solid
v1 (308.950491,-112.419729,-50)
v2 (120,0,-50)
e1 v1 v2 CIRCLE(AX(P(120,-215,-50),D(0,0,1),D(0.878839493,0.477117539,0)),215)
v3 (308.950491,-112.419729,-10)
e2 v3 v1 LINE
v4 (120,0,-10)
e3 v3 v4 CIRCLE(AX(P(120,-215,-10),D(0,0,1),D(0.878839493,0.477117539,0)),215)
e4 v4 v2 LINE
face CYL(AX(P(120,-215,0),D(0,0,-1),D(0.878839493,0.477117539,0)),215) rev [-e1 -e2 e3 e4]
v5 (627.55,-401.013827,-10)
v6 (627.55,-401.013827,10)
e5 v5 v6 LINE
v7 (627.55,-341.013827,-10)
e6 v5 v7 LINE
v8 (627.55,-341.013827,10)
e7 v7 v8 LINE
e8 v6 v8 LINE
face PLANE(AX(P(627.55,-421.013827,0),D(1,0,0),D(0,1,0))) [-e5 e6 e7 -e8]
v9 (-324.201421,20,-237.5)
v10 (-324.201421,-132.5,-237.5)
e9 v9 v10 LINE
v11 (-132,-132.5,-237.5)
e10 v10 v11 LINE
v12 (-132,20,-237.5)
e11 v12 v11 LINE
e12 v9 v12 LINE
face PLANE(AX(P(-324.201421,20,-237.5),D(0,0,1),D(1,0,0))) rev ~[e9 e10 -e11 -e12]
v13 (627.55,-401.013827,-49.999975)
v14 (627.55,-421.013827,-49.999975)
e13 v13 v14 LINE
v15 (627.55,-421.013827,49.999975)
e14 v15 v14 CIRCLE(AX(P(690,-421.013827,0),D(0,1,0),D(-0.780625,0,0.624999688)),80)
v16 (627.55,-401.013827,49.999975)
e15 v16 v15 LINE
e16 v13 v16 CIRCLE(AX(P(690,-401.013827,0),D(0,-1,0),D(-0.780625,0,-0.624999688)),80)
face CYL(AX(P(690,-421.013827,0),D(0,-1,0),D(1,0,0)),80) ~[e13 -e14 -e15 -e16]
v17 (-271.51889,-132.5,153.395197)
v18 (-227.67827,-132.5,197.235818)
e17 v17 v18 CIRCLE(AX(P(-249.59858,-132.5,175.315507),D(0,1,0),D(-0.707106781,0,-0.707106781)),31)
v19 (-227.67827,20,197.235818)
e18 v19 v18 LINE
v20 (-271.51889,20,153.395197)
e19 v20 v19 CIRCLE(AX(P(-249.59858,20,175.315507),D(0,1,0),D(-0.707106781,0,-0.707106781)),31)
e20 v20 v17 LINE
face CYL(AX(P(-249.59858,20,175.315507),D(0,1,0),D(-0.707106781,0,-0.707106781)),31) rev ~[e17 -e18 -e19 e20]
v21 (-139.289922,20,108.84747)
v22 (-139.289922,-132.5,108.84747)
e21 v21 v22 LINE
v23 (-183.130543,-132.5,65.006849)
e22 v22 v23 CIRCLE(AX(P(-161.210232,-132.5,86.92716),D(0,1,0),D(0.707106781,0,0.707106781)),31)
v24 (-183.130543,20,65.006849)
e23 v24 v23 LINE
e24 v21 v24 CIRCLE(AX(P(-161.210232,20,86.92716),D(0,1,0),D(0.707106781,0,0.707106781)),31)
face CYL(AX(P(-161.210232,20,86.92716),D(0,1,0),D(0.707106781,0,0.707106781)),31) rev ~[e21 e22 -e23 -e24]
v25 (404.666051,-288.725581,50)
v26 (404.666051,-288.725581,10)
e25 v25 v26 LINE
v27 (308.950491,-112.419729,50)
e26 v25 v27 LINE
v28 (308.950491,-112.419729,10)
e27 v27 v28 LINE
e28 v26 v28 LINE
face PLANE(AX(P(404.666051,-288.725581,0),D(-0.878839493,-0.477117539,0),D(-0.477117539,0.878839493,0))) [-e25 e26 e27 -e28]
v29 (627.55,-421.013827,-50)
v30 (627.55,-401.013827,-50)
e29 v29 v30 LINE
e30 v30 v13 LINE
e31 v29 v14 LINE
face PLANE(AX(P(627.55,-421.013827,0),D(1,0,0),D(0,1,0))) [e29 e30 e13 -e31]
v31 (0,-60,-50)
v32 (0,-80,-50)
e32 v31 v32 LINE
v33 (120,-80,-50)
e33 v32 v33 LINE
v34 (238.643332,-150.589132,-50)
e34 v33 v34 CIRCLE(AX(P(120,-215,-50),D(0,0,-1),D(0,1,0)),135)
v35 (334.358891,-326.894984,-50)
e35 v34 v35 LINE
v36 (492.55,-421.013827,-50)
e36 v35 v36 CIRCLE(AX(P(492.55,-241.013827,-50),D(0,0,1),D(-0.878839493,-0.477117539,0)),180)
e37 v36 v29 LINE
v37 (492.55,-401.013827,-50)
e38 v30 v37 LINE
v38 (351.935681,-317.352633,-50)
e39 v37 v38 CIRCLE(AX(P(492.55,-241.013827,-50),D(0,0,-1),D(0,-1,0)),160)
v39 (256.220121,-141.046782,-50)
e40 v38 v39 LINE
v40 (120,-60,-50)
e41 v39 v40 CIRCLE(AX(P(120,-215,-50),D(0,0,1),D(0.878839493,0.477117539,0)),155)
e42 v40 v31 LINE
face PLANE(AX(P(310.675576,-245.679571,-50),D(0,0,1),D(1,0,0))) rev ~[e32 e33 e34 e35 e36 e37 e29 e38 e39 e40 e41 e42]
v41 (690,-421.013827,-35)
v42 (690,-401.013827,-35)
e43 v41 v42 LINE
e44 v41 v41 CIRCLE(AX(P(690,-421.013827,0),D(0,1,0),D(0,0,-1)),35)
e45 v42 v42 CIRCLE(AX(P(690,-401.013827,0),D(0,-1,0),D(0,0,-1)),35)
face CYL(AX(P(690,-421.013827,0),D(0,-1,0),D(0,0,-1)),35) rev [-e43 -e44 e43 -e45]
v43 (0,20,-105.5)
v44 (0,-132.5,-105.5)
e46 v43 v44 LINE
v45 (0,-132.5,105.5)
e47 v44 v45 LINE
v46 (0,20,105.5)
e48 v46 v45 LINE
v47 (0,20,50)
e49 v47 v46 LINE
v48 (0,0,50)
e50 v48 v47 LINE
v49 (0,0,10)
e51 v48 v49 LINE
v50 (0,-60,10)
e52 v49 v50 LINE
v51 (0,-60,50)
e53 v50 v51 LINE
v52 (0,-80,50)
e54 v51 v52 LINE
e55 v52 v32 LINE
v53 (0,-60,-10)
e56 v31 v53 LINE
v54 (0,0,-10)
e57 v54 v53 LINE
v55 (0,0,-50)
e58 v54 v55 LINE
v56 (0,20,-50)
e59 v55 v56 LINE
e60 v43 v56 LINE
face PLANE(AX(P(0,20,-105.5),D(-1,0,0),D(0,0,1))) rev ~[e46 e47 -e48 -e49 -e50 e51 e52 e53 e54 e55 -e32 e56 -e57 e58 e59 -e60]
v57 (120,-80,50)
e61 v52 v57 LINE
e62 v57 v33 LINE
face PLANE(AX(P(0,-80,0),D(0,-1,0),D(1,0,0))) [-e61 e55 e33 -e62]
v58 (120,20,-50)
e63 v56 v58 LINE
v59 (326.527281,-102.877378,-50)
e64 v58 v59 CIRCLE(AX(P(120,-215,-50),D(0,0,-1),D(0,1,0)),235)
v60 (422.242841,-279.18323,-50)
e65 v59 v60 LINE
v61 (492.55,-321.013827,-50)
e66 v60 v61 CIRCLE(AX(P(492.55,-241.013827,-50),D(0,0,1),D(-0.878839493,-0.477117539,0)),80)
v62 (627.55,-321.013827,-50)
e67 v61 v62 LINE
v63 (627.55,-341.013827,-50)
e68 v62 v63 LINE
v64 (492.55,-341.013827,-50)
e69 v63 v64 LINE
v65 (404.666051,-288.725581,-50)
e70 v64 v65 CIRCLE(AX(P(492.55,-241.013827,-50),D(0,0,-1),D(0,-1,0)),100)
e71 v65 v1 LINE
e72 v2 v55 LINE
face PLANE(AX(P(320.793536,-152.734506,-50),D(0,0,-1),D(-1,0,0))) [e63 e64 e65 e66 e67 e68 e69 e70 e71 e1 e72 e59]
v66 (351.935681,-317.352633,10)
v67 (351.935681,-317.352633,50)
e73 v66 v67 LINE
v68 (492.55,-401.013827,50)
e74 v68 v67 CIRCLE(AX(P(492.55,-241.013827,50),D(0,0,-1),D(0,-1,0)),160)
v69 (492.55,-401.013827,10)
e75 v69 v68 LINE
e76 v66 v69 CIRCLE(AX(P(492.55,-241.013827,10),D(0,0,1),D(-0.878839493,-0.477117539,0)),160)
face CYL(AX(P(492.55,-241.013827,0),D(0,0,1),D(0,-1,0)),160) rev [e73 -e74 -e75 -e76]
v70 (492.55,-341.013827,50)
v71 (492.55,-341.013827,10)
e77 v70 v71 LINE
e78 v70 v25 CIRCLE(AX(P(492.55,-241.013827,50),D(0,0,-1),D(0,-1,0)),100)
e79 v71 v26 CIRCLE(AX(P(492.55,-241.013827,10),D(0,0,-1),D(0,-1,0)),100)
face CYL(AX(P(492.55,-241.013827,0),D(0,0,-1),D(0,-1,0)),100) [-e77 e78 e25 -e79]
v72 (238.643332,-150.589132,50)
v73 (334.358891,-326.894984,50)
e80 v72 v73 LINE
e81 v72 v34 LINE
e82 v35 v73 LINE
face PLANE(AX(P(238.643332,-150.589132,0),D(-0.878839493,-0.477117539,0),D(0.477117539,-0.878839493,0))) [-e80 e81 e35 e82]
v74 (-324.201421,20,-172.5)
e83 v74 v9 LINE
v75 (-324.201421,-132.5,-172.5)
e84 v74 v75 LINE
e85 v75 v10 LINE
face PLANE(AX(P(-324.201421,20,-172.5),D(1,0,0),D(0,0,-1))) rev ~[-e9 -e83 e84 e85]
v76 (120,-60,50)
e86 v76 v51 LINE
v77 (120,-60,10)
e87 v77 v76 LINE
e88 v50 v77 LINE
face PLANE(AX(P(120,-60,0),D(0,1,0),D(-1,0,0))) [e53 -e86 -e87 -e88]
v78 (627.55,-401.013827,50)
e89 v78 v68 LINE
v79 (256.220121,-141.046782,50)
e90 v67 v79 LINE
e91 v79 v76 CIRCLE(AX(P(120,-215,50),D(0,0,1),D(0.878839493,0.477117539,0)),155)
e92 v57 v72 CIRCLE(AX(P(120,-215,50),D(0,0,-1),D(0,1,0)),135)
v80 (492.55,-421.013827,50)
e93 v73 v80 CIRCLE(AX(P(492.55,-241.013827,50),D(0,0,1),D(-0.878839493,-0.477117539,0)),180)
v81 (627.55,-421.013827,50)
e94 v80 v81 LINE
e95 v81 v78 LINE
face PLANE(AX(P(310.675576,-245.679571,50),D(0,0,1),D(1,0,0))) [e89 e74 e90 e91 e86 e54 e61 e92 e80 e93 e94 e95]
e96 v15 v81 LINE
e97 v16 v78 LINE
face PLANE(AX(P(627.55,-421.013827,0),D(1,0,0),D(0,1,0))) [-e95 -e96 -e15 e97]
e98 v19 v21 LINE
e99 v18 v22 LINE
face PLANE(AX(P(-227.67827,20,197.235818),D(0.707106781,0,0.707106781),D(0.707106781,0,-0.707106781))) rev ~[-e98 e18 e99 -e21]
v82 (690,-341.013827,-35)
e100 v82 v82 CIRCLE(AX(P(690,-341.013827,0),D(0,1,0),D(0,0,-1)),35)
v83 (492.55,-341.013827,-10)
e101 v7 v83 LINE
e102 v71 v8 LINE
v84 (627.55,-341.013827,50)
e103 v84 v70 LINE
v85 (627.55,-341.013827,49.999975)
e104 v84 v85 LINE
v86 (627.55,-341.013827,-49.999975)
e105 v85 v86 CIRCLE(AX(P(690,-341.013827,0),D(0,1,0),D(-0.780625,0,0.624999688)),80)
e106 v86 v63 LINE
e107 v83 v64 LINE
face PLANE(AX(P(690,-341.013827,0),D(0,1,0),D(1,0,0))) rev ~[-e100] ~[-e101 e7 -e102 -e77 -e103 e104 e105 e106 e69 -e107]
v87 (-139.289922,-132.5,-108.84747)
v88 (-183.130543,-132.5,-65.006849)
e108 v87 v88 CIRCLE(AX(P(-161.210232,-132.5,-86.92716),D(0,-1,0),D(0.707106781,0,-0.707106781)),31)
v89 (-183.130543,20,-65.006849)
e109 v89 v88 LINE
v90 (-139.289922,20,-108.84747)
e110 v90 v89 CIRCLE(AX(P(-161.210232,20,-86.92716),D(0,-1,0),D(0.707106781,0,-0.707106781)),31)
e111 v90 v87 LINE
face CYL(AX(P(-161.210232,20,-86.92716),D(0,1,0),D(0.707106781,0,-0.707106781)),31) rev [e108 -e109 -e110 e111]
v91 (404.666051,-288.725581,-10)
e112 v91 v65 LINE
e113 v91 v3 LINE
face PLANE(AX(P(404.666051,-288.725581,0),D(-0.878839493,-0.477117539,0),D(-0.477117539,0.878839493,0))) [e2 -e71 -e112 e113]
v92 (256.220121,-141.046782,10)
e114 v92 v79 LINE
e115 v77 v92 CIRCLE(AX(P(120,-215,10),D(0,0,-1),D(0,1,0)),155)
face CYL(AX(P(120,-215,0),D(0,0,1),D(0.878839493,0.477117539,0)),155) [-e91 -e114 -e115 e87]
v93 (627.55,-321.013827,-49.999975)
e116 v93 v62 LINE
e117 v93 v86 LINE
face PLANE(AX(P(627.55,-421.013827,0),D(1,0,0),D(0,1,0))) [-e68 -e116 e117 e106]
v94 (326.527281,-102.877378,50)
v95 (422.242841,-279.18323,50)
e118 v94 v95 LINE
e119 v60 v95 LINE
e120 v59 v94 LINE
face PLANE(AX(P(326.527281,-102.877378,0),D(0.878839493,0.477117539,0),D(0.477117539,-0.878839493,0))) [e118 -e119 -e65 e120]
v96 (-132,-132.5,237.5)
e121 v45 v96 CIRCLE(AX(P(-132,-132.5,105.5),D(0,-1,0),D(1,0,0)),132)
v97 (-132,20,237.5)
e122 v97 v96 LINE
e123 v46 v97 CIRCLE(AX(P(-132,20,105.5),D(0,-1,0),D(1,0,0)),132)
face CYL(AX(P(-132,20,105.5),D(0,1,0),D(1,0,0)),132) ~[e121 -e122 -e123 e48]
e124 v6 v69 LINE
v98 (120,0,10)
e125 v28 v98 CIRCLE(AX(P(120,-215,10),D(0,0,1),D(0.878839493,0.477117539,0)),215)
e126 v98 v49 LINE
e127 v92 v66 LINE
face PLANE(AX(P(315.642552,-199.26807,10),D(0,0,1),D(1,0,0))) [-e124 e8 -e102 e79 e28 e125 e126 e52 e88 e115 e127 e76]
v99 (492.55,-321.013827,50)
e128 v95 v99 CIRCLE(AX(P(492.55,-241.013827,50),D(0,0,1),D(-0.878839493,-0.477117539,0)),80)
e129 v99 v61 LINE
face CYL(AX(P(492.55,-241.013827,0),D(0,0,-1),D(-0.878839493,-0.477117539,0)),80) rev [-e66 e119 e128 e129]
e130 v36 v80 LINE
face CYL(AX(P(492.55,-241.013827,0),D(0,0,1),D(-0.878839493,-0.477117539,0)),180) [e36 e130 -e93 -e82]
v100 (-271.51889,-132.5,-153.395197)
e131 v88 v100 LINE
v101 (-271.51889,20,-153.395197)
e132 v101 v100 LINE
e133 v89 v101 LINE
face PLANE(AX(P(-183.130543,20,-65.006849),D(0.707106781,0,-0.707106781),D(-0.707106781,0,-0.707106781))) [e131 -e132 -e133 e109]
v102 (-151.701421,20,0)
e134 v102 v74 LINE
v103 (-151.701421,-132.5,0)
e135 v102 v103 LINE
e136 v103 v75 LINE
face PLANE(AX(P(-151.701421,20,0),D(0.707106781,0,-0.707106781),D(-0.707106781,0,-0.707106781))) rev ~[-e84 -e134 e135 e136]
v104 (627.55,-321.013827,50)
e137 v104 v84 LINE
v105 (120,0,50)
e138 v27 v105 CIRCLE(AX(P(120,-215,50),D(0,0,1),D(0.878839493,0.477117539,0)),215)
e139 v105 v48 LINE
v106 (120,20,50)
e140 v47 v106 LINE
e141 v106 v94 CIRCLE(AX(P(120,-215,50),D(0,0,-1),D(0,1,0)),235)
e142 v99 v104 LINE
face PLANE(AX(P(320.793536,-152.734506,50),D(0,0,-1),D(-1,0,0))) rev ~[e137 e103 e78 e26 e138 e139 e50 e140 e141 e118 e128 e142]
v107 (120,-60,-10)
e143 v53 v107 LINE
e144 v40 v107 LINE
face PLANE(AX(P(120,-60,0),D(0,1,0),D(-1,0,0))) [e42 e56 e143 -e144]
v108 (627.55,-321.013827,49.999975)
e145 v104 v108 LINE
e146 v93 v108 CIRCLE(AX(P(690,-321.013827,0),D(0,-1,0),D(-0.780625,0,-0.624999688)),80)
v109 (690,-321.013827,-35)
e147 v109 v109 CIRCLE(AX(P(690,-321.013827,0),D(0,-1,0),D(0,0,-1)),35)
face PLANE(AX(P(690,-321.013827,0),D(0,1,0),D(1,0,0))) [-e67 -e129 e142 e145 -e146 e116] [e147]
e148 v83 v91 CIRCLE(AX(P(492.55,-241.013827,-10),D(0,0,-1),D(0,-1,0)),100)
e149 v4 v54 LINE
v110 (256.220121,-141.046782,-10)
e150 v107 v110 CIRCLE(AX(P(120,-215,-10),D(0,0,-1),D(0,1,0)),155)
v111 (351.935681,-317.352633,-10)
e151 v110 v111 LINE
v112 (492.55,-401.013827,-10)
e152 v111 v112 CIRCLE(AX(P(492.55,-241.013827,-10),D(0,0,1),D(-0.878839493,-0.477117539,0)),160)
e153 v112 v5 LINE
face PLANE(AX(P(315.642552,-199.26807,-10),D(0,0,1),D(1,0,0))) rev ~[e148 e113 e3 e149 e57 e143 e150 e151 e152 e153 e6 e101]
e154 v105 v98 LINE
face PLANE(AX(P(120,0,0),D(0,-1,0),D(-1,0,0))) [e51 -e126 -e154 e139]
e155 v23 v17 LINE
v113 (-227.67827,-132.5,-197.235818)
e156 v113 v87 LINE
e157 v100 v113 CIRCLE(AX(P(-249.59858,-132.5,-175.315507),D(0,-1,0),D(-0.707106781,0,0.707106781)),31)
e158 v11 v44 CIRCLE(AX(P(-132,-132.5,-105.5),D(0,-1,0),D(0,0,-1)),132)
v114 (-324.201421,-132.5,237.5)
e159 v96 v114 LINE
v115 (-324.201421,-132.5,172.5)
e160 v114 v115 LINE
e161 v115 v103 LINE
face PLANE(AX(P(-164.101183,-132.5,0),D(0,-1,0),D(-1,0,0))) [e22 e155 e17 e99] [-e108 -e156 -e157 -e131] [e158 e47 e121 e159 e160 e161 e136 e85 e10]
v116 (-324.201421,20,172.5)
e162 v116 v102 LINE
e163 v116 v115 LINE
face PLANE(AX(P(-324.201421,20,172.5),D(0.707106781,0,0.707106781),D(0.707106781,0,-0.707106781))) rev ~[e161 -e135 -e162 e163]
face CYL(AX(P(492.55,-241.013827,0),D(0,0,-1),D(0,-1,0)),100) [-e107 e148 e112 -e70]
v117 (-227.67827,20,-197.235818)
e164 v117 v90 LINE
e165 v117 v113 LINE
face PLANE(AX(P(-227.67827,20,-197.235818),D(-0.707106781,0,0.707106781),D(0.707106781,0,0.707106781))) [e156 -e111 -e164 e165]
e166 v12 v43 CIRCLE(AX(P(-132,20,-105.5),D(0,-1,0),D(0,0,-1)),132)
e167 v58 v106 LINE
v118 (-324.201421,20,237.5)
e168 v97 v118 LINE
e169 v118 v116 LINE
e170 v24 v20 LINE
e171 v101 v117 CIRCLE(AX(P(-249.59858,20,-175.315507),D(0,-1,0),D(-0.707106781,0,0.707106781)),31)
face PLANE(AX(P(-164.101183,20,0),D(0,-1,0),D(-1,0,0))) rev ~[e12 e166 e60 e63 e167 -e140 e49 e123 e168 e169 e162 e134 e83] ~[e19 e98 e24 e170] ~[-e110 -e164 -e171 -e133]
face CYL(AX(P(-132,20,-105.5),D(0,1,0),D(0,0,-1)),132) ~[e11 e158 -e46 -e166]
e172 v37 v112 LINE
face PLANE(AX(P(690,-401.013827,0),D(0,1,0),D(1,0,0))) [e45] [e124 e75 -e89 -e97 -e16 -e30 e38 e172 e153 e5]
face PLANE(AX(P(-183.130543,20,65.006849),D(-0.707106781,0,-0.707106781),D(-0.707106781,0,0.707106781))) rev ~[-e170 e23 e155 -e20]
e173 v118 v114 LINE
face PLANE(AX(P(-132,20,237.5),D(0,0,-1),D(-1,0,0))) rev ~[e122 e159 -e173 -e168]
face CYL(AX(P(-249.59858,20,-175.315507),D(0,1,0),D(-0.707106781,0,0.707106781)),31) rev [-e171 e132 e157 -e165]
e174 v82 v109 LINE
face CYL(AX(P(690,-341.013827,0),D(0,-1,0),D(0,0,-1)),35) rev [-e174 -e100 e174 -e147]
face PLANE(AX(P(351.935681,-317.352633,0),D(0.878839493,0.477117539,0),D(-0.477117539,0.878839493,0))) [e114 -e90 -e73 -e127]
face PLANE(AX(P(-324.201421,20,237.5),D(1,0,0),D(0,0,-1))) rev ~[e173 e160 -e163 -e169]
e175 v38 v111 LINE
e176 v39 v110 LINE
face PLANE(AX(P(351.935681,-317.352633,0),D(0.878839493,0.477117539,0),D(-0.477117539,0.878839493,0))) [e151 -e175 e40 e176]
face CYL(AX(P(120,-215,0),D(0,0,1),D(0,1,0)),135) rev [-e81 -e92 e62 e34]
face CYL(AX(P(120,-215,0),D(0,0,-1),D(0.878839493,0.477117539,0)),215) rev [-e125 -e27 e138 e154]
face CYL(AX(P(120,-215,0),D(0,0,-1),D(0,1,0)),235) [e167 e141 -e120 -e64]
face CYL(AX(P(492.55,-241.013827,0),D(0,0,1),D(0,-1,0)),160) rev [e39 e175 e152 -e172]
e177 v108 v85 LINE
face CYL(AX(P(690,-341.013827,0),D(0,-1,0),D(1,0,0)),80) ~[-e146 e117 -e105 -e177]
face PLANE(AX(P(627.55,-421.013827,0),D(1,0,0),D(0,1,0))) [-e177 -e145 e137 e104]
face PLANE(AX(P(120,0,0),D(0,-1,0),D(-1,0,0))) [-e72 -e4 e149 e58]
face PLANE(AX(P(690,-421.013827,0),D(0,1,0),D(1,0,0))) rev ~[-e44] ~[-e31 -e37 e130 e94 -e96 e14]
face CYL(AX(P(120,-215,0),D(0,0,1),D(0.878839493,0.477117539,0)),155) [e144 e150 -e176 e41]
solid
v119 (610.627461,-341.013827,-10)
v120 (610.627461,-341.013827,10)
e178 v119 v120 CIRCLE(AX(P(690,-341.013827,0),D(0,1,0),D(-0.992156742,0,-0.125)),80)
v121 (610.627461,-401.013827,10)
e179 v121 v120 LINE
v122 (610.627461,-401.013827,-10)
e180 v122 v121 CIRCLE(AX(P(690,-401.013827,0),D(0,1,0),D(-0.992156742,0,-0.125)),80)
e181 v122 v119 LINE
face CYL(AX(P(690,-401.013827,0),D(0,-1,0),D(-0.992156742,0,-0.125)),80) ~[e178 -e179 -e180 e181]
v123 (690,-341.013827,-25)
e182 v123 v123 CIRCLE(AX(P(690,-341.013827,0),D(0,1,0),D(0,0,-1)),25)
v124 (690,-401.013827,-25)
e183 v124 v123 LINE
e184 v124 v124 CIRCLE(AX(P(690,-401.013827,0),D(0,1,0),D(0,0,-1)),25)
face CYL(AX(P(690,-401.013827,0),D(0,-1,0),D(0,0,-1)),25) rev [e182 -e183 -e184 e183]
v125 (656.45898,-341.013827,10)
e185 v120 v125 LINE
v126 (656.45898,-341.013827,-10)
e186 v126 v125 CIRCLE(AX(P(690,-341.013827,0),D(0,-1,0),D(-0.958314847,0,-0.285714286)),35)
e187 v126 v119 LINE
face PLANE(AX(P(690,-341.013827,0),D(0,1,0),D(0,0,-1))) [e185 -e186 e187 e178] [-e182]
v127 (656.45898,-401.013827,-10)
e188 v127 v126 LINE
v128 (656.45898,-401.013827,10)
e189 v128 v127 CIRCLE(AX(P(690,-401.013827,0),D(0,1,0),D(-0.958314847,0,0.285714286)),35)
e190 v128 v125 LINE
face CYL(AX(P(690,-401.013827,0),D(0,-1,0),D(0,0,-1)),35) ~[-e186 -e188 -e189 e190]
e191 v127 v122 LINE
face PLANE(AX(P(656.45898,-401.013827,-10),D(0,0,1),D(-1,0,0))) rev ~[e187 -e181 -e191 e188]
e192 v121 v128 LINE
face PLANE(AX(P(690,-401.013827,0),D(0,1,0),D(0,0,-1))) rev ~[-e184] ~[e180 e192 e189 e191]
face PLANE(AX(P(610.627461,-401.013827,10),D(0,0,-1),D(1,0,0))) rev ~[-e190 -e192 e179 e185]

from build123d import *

# Parameters (mm, degrees)
BOSS_EXTRUDE1_DEPTH = 10
BOSS_EXTRUDE2_DEPTH = 50
BOSS_EXTRUDE5_START = 20
BOSS_EXTRUDE5_DEPTH = 152.5
BOSS_EXTRUDE6_START = -421.013827
SKETCH5_3_R         = 80
SKETCH5_3_R_2       = 35
BOSS_EXTRUDE6_DEPTH = 20
BOSS_EXTRUDE7_START = -341.013827
SKETCH5_4_R         = 80
SKETCH5_4_R_2       = 35
BOSS_EXTRUDE7_DEPTH = 20
BOSS_EXTRUDE8_START = -401.013827
SKETCH5_5_R         = 35
SKETCH5_5_R_2       = 25
BOSS_EXTRUDE8_DEPTH = 60


with BuildPart() as part:
    # Sketch3 → Boss-Extrude1 (new, symmetric)
    with BuildSketch(Plane.XY):
        with BuildLine():
            Line((256.220121409, -141.046781521), (351.935681127, -317.352633161))
            ThreePointArc((351.935681127, -317.352633161), (410.739881395, -378.516934204), (492.55, -401.013826989))
            Line((492.55, -401.013826989), (627.55, -401.013826989))
            Line((627.55, -401.013826989), (627.55, -341.013826989))
            Line((627.55, -341.013826989), (492.55, -341.013826989))
            ThreePointArc((492.55, -341.013826989), (441.418675872, -326.953268998), (404.666050704, -288.725580846))
            Line((404.666050704, -288.725580846), (308.950490986, -112.419729206))
            ThreePointArc((308.950490986, -112.419729206), (229.932346876, -30.23019968), (120, 0))
            Line((120, 0), (0, 0))
            Line((0, 0), (0, -60))
            Line((0, -60), (120, -60))
            ThreePointArc((120, -60), (199.253552399, -81.793864886), (256.220121409, -141.046781521))
        make_face()
    extrude(amount=BOSS_EXTRUDE1_DEPTH, both=True)

    # Sketch3<3> → Boss-Extrude2 (add, symmetric)
    with BuildSketch(Plane.XY):
        with BuildLine():
            ThreePointArc((422.242840563, -279.183230075), (451.644940697, -309.765380596), (492.55, -321.013826989))
            Line((492.55, -321.013826989), (627.55, -321.013826989))
            Line((627.55, -321.013826989), (627.55, -341.013826989))
            Line((627.55, -341.013826989), (492.55, -341.013826989))
            ThreePointArc((492.55, -341.013826989), (441.418675872, -326.953268998), (404.666050704, -288.725580846))
            Line((404.666050704, -288.725580846), (308.950490986, -112.419729206))
            ThreePointArc((308.950490986, -112.419729206), (229.932346876, -30.23019968), (120, 0))
            Line((120, 0), (0, 0))
            Line((0, 0), (0, 20))
            Line((0, 20), (120, 20))
            ThreePointArc((120, 20), (240.158611702, -13.042311278), (326.527280845, -102.877378435))
            Line((326.527280845, -102.877378435), (422.242840563, -279.183230075))
        make_face()
        with BuildLine():
            Line((238.643331549, -150.589132292), (334.358891267, -326.894983932))
            ThreePointArc((334.358891267, -326.894983932), (400.513616569, -395.704822605), (492.55, -421.013826989))
            Line((492.55, -421.013826989), (627.55, -421.013826989))
            Line((627.55, -421.013826989), (627.55, -401.013826989))
            Line((627.55, -401.013826989), (492.55, -401.013826989))
            ThreePointArc((492.55, -401.013826989), (410.739881395, -378.516934204), (351.935681127, -317.352633161))
            Line((351.935681127, -317.352633161), (256.220121409, -141.046781521))
            ThreePointArc((256.220121409, -141.046781521), (199.253552399, -81.793864886), (120, -60))
            Line((120, -60), (0, -60))
            Line((0, -60), (0, -80))
            Line((0, -80), (120, -80))
            ThreePointArc((120, -80), (189.027287573, -98.981753287), (238.643331549, -150.589132292))
        make_face()
    extrude(amount=BOSS_EXTRUDE2_DEPTH, both=True)

    # Sketch5 → Boss-Extrude5 (add)
    with BuildSketch(Plane(origin=(0, 0, 0), x_dir=(1, 0, 0), z_dir=(0, 1, 0)).offset(BOSS_EXTRUDE5_START)):
        with BuildLine():
            Line((0, 105.5), (0, -105.5))
            ThreePointArc((0, -105.5), (-38.661904883, -198.838095117), (-132, -237.5))
            Line((-132, -237.5), (-324.201420932, -237.5))
            Line((-324.201420932, -237.5), (-324.201420932, -172.5))
            Line((-324.201420932, -172.5), (-151.701420932, 0))
            Line((-151.701420932, 0), (-324.201420932, 172.5))
            Line((-324.201420932, 172.5), (-324.201420932, 237.5))
            Line((-324.201420932, 237.5), (-132, 237.5))
            ThreePointArc((-132, 237.5), (-38.661904883, 198.838095117), (0, 105.5))
        make_face()
        with BuildLine():
            ThreePointArc((-139.289922132, -108.847469931), (-139.289922132, -65.006849498), (-183.130542565, -65.006849498))
            Line((-183.130542565, -65.006849498), (-271.518890214, -153.395197146))
            ThreePointArc((-271.518890214, -153.395197146), (-271.518890214, -197.23581758), (-227.67826978, -197.23581758))
            Line((-227.67826978, -197.23581758), (-139.289922132, -108.847469931))
        make_face(mode=Mode.SUBTRACT)
        with BuildLine():
            Line((-227.67826978, 197.23581758), (-139.289922132, 108.847469931))
            ThreePointArc((-139.289922132, 108.847469931), (-139.289922132, 65.006849498), (-183.130542565, 65.006849498))
            Line((-183.130542565, 65.006849498), (-271.518890214, 153.395197146))
            ThreePointArc((-271.518890214, 153.395197146), (-271.518890214, 197.23581758), (-227.67826978, 197.23581758))
        make_face(mode=Mode.SUBTRACT)
    extrude(amount=-BOSS_EXTRUDE5_DEPTH)

    # Sketch5<3> → Boss-Extrude6 (add)
    # profile 1 of 3: a face of its own
    with BuildSketch(Plane(origin=(0, 0, 0), x_dir=(1, 0, 0), z_dir=(0, 1, 0)).offset(BOSS_EXTRUDE6_START)):
        with Locations((690, 0)):
            Circle(SKETCH5_3_R)
        with Locations(Location((690, 0, 0), (0, 0, 90))):
            Circle(SKETCH5_3_R_2, mode=Mode.SUBTRACT)
    # profile 2 of 3: a face of its own
    with BuildSketch(Plane(origin=(0, 0, 0), x_dir=(1, 0, 0), z_dir=(0, 1, 0)).offset(BOSS_EXTRUDE6_START)):
        with BuildLine():
            ThreePointArc((656.458980338, -10), (655, 0), (656.458980338, 10))
            Line((656.458980338, 10), (610.627460668, 10))
            ThreePointArc((610.627460668, 10), (610, 0), (610.627460668, -10))
            Line((610.627460668, -10), (656.458980338, -10))
        make_face()
    # profile 3 of 3: a face of its own
    with BuildSketch(Plane(origin=(0, 0, 0), x_dir=(1, 0, 0), z_dir=(0, 1, 0)).offset(BOSS_EXTRUDE6_START)):
        with BuildLine():
            Line((610.627460668, 10), (656.458980338, 10))
            ThreePointArc((656.458980338, 10), (695.052935375, 34.633334291), (725, 0))
            ThreePointArc((725, 0), (695.052935375, -34.633334291), (656.458980338, -10))
            Line((656.458980338, -10), (610.627460668, -10))
            ThreePointArc((610.627460668, -10), (695.009833003, -79.842980739), (770, 0))
            ThreePointArc((770, 0), (695.009833003, 79.842980739), (610.627460668, 10))
        make_face()
    extrude(amount=BOSS_EXTRUDE6_DEPTH)

    # Sketch5<4> → Boss-Extrude7 (add)
    # profile 1 of 3: a face of its own
    with BuildSketch(Plane(origin=(0, 0, 0), x_dir=(1, 0, 0), z_dir=(0, 1, 0)).offset(BOSS_EXTRUDE7_START)):
        with Locations((690, 0)):
            Circle(SKETCH5_4_R)
        with Locations(Location((690, 0, 0), (0, 0, 90))):
            Circle(SKETCH5_4_R_2, mode=Mode.SUBTRACT)
    # profile 2 of 3: a face of its own
    with BuildSketch(Plane(origin=(0, 0, 0), x_dir=(1, 0, 0), z_dir=(0, 1, 0)).offset(BOSS_EXTRUDE7_START)):
        with BuildLine():
            ThreePointArc((656.458980338, -10), (655, 0), (656.458980338, 10))
            Line((656.458980338, 10), (610.627460668, 10))
            ThreePointArc((610.627460668, 10), (610, 0), (610.627460668, -10))
            Line((610.627460668, -10), (656.458980338, -10))
        make_face()
    # profile 3 of 3: a face of its own
    with BuildSketch(Plane(origin=(0, 0, 0), x_dir=(1, 0, 0), z_dir=(0, 1, 0)).offset(BOSS_EXTRUDE7_START)):
        with BuildLine():
            Line((610.627460668, 10), (656.458980338, 10))
            ThreePointArc((656.458980338, 10), (695.052935375, 34.633334291), (725, 0))
            ThreePointArc((725, 0), (695.052935375, -34.633334291), (656.458980338, -10))
            Line((656.458980338, -10), (610.627460668, -10))
            ThreePointArc((610.627460668, -10), (695.009833003, -79.842980739), (770, 0))
            ThreePointArc((770, 0), (695.009833003, 79.842980739), (610.627460668, 10))
        make_face()
    extrude(amount=BOSS_EXTRUDE7_DEPTH)


with BuildPart() as body_2:
    # Sketch5<5> → Boss-Extrude8 (new body)
    # profile 1 of 2: a face of its own
    with BuildSketch(Plane(origin=(0, 0, 0), x_dir=(1, 0, 0), z_dir=(0, 1, 0)).offset(BOSS_EXTRUDE8_START)):
        with Locations(Location((690, 0, 0), (0, 0, 90))):
            Circle(SKETCH5_5_R)
        with Locations(Location((690, 0, 0), (0, 0, 90))):
            Circle(SKETCH5_5_R_2, mode=Mode.SUBTRACT)
    # profile 2 of 2: a face of its own
    with BuildSketch(Plane(origin=(0, 0, 0), x_dir=(1, 0, 0), z_dir=(0, 1, 0)).offset(BOSS_EXTRUDE8_START)):
        with BuildLine():
            ThreePointArc((656.458980338, -10), (655, 0), (656.458980338, 10))
            Line((656.458980338, 10), (610.627460668, 10))
            ThreePointArc((610.627460668, 10), (610, 0), (610.627460668, -10))
            Line((610.627460668, -10), (656.458980338, -10))
        make_face()
    extrude(amount=BOSS_EXTRUDE8_DEPTH)


solid = Compound([part.part, body_2.part])
